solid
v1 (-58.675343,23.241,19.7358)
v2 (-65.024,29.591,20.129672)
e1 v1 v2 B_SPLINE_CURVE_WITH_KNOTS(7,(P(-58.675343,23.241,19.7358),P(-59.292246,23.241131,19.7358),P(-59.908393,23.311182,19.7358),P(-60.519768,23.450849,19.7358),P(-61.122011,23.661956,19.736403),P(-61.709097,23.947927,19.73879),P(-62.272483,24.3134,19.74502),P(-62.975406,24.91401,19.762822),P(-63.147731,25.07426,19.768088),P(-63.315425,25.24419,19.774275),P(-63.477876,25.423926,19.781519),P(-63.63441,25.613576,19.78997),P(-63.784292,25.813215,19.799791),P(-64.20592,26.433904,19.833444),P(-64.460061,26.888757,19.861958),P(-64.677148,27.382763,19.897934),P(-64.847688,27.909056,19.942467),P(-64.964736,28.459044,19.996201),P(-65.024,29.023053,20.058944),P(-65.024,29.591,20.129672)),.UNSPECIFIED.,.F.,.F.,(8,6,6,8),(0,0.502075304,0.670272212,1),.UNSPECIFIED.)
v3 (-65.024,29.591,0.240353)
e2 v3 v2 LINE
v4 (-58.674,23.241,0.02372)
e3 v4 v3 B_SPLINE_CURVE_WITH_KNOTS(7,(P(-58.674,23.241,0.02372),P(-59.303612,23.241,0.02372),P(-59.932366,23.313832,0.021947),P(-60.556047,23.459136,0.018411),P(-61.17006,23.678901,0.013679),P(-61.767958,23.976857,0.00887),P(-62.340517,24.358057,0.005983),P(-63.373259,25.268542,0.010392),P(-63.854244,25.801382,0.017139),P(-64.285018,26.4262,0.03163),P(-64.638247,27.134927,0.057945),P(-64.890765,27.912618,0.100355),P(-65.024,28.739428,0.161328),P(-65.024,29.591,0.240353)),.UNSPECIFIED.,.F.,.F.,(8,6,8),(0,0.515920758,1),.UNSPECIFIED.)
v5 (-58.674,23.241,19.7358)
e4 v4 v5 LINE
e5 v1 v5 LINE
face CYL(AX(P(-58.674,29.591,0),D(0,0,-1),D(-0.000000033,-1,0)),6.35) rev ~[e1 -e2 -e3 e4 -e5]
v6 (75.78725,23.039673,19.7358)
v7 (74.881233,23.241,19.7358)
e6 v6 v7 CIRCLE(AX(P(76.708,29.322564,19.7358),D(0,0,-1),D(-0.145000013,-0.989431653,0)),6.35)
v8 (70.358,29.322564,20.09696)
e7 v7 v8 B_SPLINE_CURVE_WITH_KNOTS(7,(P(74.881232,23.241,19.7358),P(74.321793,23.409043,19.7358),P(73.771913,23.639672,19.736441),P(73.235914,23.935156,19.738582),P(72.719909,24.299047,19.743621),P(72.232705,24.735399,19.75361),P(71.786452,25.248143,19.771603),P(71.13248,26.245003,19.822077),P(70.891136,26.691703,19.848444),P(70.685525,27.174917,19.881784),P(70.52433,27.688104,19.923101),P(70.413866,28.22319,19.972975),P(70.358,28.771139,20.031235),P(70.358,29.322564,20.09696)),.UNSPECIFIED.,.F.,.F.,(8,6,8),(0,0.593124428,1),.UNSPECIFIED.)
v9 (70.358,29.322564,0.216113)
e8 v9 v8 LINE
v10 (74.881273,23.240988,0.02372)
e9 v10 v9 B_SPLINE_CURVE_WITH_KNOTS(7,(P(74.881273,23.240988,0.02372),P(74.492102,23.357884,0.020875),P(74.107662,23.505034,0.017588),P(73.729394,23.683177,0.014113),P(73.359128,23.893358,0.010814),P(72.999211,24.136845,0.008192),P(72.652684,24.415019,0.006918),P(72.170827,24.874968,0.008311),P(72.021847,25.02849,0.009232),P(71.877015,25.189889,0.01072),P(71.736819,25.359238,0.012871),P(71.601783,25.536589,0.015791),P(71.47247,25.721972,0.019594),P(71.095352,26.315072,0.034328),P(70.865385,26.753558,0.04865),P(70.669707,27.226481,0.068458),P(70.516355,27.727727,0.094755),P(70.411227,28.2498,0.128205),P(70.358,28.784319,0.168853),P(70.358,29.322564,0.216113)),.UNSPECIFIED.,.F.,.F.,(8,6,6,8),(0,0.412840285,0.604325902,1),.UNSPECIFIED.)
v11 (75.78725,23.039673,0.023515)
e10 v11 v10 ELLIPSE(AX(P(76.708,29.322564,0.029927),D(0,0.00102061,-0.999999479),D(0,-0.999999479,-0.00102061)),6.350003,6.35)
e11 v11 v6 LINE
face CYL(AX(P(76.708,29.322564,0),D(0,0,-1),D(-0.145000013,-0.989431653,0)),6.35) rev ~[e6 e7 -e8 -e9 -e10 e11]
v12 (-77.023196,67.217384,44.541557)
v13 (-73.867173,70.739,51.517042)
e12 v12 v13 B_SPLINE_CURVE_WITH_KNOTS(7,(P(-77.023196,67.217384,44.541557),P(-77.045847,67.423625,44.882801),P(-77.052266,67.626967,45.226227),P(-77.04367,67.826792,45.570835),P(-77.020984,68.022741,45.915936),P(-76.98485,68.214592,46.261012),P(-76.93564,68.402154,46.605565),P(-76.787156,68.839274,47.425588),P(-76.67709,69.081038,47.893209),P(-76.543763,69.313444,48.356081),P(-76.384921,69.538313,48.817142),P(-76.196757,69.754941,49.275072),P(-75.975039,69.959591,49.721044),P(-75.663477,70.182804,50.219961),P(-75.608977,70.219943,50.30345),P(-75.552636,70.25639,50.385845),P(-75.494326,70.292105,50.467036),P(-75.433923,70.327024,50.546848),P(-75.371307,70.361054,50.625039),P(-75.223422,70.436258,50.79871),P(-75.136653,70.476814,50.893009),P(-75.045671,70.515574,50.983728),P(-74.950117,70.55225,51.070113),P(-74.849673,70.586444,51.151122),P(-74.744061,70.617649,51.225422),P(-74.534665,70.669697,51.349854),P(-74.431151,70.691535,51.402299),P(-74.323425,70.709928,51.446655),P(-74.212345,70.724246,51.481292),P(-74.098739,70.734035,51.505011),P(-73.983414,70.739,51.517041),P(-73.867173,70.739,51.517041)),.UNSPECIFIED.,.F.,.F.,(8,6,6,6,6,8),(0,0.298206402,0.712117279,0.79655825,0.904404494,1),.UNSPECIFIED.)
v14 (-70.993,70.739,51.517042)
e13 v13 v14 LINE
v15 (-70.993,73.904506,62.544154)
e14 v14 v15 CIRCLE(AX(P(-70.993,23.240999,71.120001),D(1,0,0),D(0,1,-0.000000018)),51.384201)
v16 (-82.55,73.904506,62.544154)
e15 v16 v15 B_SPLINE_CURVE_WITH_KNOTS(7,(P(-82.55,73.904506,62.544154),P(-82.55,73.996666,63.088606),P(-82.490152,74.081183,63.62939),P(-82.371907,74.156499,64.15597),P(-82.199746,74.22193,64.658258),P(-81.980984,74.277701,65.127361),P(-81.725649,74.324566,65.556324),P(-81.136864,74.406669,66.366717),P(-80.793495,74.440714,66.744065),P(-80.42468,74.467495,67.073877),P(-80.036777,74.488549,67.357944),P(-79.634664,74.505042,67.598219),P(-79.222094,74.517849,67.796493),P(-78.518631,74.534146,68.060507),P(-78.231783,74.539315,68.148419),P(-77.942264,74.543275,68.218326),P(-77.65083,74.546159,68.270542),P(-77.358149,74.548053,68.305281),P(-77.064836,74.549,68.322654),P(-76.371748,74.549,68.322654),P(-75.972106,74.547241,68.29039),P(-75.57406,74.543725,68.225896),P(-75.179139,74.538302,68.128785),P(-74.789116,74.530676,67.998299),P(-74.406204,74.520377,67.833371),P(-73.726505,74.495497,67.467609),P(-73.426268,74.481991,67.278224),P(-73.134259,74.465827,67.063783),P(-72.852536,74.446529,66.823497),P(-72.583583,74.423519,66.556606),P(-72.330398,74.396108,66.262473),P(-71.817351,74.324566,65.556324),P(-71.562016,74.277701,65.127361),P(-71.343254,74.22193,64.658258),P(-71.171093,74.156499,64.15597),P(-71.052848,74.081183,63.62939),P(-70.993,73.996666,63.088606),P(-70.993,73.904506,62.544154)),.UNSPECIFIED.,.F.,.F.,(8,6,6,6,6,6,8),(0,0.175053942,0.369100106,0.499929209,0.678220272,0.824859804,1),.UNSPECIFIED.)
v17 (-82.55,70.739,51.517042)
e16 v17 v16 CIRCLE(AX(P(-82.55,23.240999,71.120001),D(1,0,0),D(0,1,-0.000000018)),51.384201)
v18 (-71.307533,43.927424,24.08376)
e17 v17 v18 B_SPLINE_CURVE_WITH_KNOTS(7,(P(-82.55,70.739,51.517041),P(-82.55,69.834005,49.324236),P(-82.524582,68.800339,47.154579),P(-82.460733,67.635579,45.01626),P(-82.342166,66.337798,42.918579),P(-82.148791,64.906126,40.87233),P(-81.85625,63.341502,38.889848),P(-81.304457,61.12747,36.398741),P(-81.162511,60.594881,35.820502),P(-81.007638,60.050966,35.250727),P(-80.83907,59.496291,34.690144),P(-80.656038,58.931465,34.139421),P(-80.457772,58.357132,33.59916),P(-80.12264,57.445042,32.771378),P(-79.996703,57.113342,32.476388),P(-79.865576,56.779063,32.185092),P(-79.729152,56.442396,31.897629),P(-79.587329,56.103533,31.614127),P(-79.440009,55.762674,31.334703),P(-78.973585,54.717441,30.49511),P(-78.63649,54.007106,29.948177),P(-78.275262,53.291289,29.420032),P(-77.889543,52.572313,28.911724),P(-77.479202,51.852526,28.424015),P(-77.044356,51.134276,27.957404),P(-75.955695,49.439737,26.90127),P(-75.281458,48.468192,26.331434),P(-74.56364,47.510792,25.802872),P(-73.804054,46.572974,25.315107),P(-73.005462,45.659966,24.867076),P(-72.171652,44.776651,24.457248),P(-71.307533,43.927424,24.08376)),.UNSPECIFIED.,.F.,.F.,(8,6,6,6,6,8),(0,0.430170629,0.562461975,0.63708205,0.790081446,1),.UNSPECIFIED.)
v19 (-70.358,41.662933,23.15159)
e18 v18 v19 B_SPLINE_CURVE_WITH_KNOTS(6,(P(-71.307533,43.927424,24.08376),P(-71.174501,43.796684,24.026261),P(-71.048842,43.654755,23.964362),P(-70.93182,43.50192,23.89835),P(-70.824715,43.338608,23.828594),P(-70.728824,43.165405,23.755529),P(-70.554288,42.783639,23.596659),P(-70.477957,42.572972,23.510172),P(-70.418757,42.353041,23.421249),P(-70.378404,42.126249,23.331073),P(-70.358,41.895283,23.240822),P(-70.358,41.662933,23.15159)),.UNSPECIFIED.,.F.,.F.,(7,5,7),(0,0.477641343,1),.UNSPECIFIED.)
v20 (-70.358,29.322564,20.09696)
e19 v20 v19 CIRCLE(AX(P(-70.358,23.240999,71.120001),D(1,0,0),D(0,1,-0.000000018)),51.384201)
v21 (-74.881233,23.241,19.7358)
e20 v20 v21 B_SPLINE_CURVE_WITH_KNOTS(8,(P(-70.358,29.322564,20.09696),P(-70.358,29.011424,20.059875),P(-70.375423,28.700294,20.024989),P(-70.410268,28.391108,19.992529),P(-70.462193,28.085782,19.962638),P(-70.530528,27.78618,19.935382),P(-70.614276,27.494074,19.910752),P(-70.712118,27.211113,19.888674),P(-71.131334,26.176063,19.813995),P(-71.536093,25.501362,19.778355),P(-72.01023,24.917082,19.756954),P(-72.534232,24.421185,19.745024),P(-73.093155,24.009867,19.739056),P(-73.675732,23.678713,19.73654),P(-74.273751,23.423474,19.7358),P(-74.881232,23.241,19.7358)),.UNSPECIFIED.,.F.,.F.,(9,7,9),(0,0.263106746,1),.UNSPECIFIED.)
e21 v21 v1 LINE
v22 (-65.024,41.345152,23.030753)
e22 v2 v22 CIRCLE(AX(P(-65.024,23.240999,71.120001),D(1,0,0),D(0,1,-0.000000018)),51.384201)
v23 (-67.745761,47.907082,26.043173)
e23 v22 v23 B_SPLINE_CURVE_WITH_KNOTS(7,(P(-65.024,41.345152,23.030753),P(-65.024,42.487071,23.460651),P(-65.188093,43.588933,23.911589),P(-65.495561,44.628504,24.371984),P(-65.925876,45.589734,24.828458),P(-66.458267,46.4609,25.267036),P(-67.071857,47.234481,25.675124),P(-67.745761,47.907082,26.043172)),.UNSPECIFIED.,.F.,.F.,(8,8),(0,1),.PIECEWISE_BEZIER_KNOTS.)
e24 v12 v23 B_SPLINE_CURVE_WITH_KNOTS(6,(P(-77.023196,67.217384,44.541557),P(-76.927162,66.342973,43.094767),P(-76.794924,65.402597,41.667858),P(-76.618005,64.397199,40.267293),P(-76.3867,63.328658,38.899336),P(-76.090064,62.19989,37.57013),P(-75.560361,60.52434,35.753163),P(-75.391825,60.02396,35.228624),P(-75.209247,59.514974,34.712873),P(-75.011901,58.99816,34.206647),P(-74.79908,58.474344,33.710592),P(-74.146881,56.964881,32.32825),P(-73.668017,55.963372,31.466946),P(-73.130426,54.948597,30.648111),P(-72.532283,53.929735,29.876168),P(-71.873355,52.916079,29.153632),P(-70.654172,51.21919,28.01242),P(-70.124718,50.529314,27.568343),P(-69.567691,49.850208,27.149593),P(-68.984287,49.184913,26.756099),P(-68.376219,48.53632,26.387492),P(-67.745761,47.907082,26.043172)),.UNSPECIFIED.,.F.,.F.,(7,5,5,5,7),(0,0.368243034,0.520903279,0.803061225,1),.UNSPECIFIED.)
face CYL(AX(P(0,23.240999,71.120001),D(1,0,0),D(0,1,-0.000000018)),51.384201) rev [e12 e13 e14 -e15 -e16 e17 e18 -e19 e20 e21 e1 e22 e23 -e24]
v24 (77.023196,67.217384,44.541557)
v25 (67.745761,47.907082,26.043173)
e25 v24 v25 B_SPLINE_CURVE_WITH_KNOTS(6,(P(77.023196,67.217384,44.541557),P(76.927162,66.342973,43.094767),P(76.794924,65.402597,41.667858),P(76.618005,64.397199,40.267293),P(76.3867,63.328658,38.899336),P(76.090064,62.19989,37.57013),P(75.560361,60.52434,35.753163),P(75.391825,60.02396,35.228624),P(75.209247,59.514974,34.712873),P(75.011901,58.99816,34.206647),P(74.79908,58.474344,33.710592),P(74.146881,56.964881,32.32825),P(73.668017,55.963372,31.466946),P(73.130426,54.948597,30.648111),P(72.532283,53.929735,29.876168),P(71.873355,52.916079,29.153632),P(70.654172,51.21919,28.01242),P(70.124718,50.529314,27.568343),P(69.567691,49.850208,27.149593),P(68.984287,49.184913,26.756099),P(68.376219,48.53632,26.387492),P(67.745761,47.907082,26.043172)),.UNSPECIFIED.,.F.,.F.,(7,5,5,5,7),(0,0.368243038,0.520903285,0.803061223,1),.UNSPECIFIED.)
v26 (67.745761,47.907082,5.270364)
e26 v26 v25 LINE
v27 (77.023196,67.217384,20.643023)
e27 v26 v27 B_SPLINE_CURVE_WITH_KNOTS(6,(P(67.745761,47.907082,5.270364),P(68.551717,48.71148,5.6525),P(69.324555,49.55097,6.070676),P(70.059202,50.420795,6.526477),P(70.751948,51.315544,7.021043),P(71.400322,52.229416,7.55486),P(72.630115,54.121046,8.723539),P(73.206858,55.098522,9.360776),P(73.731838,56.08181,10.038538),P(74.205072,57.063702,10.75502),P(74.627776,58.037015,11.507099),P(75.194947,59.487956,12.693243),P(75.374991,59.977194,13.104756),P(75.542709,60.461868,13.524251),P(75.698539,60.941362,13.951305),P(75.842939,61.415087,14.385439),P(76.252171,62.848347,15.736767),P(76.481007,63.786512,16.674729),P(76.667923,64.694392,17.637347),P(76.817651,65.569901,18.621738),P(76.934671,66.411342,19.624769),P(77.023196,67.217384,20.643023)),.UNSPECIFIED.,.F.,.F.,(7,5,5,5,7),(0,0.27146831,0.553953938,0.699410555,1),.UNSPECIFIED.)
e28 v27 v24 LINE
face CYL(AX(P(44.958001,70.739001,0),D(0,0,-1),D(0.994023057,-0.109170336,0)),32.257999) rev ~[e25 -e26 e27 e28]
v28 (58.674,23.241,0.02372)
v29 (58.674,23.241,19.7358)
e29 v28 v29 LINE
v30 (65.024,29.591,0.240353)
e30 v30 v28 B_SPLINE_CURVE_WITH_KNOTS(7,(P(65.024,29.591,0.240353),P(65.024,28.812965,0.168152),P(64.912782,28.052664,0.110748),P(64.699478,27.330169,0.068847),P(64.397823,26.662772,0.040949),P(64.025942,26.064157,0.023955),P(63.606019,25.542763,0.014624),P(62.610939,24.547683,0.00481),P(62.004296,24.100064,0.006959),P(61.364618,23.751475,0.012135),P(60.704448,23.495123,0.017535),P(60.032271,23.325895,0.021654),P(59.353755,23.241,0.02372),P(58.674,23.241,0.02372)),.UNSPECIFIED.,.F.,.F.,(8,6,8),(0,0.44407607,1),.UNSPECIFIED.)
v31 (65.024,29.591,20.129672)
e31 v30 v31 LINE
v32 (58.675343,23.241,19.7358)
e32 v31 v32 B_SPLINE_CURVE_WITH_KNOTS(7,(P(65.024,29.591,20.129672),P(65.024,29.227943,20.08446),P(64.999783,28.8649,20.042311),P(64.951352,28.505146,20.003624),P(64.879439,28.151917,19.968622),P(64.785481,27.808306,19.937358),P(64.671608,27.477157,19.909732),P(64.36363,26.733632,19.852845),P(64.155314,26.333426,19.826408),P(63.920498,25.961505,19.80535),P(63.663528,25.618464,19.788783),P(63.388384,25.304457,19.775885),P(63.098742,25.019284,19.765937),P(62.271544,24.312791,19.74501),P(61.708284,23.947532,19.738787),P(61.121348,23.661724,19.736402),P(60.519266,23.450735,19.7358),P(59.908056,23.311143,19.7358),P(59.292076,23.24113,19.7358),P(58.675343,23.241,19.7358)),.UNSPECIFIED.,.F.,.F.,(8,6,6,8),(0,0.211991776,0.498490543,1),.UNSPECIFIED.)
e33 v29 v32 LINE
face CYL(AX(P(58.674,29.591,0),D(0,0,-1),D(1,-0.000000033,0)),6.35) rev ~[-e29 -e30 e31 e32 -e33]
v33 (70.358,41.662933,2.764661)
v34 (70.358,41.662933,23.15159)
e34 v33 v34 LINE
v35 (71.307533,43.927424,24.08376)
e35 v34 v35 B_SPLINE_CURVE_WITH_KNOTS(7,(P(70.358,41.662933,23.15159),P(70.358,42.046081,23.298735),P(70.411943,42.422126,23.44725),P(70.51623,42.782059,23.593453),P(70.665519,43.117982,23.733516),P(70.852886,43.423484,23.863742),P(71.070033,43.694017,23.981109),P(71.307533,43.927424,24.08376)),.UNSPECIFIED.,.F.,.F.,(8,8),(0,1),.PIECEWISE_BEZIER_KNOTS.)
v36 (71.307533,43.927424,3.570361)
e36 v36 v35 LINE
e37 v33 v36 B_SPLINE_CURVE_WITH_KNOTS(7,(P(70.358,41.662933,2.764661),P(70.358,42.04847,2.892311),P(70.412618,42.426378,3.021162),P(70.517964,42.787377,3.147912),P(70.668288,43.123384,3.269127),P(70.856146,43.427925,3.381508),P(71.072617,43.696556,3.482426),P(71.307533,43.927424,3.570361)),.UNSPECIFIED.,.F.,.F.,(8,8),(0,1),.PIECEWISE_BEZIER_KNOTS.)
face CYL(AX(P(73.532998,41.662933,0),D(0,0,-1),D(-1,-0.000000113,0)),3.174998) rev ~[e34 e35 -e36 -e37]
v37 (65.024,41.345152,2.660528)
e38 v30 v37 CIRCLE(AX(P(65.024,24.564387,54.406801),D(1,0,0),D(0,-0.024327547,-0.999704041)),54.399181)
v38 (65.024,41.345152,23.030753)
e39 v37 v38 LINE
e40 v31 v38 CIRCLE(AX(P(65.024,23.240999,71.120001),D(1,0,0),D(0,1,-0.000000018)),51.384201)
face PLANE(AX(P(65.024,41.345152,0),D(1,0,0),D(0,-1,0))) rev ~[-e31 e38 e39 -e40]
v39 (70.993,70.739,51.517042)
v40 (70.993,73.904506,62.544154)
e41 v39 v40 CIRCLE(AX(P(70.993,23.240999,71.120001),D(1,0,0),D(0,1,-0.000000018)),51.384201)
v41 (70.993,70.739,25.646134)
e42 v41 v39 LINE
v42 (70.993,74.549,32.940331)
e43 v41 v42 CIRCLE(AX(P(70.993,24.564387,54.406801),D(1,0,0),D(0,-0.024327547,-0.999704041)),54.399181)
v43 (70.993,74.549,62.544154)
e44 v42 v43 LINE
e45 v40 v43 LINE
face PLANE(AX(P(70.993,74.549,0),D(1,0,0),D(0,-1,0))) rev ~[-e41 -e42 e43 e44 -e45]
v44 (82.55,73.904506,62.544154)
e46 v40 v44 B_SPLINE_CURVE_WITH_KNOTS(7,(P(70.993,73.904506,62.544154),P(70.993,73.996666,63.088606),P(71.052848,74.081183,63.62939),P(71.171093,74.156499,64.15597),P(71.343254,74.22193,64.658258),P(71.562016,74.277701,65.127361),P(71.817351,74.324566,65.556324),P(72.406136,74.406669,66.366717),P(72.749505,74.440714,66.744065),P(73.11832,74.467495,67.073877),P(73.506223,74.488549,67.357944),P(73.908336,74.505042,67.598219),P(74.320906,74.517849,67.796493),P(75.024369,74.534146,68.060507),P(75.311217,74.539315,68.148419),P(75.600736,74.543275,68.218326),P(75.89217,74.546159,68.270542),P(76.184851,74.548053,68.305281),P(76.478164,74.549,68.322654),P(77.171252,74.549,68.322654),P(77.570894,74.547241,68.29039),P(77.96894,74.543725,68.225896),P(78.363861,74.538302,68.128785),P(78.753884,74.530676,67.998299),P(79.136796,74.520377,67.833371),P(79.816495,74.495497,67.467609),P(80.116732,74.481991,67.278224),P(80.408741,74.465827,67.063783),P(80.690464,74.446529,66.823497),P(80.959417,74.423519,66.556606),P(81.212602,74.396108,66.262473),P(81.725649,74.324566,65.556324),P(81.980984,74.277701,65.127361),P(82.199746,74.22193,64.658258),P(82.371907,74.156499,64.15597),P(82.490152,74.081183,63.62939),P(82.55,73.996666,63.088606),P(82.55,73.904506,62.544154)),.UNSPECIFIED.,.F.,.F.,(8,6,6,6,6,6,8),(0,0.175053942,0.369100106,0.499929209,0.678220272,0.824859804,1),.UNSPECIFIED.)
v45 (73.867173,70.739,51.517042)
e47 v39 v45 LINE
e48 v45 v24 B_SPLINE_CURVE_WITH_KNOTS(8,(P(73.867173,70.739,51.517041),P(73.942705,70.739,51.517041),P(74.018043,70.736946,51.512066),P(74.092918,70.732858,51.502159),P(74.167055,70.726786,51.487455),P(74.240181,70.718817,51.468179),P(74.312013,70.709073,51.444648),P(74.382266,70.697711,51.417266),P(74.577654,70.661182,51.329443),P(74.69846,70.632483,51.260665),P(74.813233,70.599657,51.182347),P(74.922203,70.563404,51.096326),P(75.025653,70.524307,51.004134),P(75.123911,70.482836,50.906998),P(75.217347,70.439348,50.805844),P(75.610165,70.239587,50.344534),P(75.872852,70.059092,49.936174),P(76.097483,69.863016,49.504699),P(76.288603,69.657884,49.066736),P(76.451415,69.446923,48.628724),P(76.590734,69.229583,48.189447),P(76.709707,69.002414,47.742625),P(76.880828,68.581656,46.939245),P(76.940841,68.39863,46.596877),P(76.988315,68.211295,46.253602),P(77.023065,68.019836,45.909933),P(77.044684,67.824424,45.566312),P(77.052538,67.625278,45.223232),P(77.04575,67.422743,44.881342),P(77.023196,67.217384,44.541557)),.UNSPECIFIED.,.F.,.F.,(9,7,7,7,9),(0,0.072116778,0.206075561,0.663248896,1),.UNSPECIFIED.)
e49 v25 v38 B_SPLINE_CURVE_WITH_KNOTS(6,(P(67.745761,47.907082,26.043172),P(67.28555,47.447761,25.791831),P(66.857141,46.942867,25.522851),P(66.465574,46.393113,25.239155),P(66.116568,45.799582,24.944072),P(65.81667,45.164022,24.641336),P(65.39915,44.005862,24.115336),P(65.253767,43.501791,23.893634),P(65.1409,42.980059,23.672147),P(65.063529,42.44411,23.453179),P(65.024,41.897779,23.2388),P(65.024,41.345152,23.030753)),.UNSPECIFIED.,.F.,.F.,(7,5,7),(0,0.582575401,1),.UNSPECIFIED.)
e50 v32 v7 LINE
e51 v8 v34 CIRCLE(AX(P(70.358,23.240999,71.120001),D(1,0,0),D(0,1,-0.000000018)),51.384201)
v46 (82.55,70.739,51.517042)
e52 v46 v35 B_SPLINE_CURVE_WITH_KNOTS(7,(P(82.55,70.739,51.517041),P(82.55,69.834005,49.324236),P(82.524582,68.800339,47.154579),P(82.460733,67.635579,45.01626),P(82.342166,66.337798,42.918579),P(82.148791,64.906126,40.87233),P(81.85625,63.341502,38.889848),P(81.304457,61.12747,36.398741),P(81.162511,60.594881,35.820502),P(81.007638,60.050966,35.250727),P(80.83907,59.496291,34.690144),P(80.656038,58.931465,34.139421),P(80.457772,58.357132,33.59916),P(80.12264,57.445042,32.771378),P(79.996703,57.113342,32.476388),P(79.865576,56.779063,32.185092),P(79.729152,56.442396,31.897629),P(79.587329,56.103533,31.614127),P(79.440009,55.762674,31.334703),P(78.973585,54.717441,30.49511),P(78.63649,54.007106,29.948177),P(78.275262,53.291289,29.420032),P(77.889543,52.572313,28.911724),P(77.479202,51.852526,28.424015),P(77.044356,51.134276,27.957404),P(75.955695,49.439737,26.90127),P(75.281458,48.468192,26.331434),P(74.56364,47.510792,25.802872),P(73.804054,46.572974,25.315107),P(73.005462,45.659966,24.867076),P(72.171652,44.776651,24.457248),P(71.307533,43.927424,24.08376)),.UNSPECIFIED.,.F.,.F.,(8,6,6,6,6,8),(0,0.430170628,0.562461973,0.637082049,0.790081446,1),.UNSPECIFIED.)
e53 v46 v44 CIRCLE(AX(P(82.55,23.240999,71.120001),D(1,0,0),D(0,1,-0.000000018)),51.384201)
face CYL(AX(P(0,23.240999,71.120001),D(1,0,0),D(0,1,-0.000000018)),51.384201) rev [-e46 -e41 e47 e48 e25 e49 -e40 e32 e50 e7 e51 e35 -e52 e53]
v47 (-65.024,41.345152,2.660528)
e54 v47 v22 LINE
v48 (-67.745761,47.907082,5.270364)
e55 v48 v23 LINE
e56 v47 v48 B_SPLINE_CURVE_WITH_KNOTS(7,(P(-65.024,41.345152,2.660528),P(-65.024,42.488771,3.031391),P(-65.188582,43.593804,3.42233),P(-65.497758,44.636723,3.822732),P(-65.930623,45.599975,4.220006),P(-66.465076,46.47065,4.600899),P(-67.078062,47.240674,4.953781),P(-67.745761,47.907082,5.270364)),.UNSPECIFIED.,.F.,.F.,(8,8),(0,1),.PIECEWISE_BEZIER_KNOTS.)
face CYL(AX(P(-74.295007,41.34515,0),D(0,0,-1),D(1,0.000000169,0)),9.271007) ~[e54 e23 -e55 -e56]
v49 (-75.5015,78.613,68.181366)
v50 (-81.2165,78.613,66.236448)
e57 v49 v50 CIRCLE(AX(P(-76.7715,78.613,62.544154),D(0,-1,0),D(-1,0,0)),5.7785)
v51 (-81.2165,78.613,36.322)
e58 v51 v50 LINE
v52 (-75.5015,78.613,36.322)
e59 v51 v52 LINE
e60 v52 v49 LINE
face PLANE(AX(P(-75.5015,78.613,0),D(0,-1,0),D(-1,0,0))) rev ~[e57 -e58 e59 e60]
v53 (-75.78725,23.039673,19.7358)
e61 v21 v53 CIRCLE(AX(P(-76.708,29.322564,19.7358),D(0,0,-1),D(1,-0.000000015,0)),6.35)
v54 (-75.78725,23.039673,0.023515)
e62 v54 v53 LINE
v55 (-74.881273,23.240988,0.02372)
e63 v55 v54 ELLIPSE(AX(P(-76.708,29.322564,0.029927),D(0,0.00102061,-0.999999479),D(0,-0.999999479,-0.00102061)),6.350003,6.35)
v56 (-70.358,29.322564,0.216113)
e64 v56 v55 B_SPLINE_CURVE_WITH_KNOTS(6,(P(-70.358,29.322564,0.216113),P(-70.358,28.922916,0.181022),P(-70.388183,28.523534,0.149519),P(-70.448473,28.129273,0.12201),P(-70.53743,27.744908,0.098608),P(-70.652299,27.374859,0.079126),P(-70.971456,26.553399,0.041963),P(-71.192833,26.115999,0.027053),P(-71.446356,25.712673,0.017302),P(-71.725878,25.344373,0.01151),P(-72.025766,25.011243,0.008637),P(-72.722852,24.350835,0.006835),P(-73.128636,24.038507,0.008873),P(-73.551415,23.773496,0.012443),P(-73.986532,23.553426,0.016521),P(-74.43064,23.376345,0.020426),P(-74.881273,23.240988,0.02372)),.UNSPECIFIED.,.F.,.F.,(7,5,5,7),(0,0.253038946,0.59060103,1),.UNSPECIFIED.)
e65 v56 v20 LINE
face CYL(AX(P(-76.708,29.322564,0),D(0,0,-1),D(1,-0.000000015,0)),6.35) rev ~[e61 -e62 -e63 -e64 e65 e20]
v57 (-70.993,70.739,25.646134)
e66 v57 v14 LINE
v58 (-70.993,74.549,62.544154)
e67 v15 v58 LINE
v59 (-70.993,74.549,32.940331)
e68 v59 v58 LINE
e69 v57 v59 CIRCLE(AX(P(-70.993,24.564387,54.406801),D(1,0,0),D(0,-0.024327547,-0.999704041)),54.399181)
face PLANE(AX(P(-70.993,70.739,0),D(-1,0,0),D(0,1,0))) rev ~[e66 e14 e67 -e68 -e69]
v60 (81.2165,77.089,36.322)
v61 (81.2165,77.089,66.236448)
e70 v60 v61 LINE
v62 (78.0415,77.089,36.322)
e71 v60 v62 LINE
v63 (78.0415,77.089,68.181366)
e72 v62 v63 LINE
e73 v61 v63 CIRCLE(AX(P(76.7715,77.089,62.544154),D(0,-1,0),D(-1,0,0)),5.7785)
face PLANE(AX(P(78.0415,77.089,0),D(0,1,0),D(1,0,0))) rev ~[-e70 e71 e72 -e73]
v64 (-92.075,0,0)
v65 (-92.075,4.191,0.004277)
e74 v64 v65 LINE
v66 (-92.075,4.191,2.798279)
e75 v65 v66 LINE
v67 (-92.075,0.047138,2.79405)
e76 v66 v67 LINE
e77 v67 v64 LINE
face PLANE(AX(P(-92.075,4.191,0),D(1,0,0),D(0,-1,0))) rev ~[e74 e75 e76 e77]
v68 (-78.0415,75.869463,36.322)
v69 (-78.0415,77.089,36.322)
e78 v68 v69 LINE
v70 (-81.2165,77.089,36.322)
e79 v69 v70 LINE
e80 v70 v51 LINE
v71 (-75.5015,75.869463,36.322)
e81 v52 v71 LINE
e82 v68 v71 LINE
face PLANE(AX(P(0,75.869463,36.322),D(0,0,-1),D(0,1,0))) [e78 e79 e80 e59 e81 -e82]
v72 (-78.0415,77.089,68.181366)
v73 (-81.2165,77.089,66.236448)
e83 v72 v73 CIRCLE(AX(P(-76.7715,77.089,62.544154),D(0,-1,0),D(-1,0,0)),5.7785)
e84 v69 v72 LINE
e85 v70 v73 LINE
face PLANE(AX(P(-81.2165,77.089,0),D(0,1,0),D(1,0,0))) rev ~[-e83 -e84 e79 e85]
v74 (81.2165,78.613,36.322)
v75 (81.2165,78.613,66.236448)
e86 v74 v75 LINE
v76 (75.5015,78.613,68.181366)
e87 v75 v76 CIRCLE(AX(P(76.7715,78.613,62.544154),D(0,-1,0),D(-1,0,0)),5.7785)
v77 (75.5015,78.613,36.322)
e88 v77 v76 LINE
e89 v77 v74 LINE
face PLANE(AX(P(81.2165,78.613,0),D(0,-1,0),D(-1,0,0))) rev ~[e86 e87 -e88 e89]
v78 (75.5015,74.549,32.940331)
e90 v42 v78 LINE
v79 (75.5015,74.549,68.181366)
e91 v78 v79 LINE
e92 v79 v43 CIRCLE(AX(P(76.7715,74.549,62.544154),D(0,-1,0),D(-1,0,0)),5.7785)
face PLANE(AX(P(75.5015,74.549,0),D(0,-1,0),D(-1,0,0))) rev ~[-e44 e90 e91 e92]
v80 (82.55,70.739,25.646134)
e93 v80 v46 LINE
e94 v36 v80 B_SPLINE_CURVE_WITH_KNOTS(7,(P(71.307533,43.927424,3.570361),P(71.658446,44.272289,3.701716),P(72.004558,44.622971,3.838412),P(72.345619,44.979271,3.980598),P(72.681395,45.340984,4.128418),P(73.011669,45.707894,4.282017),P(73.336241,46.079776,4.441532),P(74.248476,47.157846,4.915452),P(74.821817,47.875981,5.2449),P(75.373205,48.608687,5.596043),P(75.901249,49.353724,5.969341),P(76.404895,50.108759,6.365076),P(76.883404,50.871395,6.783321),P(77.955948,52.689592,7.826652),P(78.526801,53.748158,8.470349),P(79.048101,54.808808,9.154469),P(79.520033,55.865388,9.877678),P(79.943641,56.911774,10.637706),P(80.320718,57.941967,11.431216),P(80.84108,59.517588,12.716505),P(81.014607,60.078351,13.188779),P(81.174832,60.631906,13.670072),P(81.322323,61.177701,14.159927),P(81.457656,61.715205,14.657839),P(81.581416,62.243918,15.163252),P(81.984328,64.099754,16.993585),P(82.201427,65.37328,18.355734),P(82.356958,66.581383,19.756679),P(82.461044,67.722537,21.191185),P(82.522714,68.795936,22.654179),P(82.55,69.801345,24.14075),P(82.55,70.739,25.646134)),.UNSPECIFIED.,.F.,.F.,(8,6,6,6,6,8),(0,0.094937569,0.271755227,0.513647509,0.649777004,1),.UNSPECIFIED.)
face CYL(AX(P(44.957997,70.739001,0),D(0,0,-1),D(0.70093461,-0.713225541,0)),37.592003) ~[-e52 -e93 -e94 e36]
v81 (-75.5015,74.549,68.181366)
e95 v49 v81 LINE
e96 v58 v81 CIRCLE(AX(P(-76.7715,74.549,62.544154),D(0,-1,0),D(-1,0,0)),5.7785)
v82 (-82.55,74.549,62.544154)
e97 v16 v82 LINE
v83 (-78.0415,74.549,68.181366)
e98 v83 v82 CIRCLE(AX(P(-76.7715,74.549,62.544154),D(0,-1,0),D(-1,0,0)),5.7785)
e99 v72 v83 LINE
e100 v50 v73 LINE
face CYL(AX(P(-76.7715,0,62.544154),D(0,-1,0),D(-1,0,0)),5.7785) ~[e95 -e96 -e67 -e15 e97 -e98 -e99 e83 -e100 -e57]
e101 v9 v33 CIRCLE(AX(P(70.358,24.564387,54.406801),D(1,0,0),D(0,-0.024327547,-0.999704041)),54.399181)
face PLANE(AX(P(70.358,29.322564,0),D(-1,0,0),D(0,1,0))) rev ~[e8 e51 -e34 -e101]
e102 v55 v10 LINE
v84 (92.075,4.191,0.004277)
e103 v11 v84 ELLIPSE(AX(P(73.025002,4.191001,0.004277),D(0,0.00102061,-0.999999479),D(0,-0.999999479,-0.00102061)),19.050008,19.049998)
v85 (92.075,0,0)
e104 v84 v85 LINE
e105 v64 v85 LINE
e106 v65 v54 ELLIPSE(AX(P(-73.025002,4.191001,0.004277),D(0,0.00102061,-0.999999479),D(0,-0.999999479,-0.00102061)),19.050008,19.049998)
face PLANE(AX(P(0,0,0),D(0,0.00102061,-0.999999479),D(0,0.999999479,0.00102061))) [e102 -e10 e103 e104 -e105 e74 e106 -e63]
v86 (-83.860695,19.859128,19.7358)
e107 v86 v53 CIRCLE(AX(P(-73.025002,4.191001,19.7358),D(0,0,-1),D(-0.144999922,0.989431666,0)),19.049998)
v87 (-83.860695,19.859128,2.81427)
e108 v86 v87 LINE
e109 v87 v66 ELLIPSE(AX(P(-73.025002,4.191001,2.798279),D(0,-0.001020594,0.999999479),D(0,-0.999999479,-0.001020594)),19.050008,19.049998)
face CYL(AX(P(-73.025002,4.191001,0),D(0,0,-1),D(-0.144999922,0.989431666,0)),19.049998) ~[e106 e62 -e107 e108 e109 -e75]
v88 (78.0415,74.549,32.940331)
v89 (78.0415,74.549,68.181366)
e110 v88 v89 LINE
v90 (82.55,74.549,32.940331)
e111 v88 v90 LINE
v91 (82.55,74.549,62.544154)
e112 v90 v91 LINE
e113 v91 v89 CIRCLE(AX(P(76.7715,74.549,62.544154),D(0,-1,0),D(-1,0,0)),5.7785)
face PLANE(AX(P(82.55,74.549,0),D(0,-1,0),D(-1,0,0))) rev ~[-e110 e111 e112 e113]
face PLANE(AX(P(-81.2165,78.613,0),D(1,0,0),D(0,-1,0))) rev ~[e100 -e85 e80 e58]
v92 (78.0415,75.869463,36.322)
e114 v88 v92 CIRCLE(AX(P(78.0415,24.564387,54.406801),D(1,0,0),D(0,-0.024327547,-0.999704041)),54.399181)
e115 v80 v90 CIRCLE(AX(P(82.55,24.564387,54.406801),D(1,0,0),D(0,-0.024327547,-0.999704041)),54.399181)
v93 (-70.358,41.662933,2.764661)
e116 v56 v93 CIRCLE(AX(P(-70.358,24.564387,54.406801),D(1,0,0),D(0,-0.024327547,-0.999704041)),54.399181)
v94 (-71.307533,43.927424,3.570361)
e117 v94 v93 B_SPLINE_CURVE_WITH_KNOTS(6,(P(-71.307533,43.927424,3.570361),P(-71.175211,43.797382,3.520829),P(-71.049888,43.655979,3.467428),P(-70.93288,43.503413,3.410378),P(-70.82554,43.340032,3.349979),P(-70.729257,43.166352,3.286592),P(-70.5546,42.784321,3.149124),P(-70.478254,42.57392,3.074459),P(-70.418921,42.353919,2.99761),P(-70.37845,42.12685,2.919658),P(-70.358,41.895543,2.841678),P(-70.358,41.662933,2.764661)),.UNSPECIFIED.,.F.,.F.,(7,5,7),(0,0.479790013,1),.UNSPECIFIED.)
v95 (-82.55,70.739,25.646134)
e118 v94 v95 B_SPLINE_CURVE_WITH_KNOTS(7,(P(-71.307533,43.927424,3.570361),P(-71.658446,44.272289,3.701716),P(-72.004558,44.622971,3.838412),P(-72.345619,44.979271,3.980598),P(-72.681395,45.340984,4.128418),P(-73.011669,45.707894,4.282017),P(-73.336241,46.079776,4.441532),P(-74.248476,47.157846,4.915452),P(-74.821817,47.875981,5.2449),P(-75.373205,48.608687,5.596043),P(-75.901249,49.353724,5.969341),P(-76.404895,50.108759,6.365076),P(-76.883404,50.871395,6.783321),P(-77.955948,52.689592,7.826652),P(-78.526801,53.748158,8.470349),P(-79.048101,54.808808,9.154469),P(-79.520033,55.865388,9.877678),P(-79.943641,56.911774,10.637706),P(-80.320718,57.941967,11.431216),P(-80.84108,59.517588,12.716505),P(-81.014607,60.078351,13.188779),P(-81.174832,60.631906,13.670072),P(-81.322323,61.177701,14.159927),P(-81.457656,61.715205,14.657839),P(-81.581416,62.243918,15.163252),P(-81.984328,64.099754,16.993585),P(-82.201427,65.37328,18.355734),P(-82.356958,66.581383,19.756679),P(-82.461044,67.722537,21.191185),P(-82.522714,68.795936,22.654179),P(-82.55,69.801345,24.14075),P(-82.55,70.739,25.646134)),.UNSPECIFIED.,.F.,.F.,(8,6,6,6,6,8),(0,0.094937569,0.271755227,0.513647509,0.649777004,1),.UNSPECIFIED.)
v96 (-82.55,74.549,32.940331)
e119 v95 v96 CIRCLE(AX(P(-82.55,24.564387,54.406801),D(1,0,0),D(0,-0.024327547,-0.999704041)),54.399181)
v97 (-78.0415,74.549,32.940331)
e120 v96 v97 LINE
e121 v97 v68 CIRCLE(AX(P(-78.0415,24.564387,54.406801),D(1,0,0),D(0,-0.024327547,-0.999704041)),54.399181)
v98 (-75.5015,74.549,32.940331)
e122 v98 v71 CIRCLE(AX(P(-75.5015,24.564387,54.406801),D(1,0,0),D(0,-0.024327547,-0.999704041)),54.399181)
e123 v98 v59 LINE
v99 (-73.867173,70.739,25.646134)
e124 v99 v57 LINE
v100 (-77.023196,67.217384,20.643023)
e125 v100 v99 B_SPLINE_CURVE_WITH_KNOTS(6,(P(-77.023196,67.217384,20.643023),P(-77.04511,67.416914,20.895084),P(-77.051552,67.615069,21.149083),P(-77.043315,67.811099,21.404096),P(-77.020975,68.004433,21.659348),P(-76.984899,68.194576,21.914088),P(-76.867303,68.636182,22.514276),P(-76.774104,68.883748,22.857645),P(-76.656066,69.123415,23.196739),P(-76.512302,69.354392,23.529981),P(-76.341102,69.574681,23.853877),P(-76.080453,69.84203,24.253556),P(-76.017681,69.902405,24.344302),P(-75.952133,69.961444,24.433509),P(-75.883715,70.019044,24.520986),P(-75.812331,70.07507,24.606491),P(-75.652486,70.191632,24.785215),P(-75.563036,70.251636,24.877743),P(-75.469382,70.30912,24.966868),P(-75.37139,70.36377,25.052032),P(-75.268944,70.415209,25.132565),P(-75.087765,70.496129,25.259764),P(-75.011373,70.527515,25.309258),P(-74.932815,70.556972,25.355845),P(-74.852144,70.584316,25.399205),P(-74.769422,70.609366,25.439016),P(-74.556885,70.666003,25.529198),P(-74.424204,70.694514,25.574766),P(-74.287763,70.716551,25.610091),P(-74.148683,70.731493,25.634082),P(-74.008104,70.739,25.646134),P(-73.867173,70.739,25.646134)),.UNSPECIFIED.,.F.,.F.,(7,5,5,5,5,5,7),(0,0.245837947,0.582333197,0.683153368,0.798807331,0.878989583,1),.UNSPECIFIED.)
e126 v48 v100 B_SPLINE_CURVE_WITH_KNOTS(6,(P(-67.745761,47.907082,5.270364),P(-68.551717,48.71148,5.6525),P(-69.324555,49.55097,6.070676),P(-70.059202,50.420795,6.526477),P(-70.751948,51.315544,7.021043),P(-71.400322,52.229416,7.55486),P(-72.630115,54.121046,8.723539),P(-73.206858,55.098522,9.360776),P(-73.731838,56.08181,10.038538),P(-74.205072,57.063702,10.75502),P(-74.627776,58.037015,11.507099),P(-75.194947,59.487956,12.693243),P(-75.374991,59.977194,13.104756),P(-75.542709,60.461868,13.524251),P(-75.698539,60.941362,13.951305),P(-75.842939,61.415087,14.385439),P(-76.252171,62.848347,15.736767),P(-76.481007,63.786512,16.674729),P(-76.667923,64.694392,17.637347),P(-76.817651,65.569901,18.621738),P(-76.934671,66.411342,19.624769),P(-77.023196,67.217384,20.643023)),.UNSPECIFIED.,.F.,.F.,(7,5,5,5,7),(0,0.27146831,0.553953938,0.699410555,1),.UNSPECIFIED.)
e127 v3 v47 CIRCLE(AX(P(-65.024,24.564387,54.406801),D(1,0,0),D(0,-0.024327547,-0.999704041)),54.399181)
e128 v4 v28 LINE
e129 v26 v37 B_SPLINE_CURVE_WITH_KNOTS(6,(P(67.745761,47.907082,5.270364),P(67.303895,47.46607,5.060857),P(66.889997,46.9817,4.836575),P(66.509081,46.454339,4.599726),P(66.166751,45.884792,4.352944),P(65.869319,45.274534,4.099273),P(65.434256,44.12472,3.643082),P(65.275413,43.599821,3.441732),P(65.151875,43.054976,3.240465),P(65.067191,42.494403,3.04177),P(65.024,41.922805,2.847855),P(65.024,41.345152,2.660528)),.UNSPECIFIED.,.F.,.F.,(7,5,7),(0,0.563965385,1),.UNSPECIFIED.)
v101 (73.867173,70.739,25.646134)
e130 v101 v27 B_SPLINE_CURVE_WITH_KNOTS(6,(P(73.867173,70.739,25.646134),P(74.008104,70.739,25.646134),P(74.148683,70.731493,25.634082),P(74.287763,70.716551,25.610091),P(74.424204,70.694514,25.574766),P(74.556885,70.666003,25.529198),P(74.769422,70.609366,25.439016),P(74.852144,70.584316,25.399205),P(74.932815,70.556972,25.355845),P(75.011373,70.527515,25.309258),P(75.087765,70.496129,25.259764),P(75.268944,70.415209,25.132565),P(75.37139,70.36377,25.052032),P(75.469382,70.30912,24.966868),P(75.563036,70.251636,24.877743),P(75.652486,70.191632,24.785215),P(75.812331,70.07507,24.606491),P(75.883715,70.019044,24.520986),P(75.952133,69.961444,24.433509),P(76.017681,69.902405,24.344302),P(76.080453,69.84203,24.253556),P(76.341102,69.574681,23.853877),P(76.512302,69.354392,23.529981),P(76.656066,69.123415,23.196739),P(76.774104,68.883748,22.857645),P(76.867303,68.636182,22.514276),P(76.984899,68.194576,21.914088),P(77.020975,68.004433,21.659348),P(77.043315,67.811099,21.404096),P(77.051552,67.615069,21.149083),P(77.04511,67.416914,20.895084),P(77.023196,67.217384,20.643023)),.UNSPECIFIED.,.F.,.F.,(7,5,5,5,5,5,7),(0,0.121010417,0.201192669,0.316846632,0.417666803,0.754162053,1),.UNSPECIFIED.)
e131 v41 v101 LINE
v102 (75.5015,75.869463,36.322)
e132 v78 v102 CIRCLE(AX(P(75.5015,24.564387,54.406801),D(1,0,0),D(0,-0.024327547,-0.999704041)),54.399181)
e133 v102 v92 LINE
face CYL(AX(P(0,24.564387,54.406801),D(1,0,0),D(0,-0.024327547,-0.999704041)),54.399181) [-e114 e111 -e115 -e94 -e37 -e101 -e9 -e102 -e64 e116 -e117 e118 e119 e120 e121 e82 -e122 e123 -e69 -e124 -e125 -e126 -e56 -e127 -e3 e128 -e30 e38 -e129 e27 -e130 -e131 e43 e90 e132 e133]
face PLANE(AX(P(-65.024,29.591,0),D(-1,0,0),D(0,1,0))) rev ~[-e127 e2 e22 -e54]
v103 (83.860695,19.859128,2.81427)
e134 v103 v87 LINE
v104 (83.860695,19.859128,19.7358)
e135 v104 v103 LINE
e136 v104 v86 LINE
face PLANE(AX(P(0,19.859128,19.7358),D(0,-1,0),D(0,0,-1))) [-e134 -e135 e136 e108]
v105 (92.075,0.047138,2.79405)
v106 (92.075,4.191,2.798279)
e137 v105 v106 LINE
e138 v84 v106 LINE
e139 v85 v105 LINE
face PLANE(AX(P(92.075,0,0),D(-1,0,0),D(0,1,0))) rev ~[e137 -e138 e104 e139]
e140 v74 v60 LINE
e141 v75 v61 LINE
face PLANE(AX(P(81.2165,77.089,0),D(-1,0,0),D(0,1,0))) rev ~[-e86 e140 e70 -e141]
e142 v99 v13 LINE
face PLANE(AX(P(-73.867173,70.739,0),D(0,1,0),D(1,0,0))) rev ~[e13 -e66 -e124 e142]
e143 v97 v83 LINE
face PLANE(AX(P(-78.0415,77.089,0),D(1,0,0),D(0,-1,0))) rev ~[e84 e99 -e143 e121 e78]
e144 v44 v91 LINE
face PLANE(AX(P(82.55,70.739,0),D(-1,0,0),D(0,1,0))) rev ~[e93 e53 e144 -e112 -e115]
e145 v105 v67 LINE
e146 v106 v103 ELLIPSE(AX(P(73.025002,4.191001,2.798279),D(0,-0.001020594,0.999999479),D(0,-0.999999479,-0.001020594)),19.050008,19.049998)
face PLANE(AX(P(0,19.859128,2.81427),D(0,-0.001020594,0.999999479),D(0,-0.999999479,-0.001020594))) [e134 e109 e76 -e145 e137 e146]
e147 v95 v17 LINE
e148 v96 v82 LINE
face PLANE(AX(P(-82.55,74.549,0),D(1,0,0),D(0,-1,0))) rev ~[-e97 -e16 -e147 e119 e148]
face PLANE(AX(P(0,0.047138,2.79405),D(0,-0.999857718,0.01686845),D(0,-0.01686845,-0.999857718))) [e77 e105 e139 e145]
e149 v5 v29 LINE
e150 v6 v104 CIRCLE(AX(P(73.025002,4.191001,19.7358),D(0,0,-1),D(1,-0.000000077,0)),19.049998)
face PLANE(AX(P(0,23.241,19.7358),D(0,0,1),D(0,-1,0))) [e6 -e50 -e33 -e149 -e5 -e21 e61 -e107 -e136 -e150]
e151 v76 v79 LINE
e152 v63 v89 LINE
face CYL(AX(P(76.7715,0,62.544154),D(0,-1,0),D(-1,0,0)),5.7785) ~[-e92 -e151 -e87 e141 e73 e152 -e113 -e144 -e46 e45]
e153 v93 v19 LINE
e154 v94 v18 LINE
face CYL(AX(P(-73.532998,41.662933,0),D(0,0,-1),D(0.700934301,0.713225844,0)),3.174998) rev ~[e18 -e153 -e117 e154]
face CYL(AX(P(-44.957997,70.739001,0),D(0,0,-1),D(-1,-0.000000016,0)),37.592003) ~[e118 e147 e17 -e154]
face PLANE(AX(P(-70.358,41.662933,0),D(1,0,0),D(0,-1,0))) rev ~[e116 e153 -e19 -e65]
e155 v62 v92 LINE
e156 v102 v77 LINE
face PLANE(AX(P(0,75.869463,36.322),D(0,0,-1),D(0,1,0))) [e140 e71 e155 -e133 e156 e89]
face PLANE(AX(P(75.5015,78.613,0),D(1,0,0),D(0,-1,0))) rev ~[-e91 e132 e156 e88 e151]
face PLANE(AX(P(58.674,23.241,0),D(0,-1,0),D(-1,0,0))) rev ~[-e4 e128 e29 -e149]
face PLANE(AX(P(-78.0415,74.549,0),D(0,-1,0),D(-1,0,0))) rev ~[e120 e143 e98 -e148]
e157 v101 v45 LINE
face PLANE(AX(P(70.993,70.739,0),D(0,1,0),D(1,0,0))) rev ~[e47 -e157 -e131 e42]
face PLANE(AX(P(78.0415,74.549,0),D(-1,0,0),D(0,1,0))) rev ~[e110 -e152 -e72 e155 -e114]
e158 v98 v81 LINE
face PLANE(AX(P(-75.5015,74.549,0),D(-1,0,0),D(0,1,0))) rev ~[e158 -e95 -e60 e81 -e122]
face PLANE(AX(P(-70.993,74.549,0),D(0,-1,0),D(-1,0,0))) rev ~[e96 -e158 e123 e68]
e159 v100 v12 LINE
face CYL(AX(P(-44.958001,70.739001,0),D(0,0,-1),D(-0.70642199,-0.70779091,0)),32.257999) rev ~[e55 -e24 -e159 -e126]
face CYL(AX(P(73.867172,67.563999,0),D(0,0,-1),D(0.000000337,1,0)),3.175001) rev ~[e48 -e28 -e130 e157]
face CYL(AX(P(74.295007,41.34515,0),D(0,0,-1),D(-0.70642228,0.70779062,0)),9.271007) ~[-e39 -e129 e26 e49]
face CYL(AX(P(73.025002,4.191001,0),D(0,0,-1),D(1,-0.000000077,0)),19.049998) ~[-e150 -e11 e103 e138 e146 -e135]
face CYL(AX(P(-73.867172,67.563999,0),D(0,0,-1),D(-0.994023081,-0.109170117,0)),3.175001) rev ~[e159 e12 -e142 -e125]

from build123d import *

# Parameters (mm, degrees)
F1_DEPTH = 71.12
F3_DEPTH = 101.6
F5_DEPTH = 78.614


with BuildPart() as f1:
    # F0 (on Top) → F1 (new body)
    with BuildSketch(Plane.XY):
        with BuildLine():
            Line((-92.075, 0), (0, 0))
            Line((0, 0), (92.075, 0))
            Line((92.075, 0), (92.075, 4.191))
            ThreePointArc((92.075, 4.191), (87.438941, 16.646554), (75.78725, 23.039673))
            ThreePointArc((75.78725, 23.039673), (71.903353, 25.170713), (70.358, 29.322564))
            Line((70.358, 29.322564), (70.358, 41.662933))
            ThreePointArc((70.358, 41.662933), (70.60499, 42.890688), (71.307533, 43.927424))
            ThreePointArc((71.307533, 43.927424), (79.625637, 56.202377), (82.55, 70.739))
            Line((82.55, 70.739), (82.55, 74.549))
            Line((82.55, 74.549), (78.0415, 74.549))
            Line((78.0415, 74.549), (78.0415, 77.089))
            Line((78.0415, 77.089), (81.2165, 77.089))
            Line((81.2165, 77.089), (81.2165, 78.613))
            Line((81.2165, 78.613), (78.0415, 78.613))
            Line((78.0415, 78.613), (75.5015, 78.613))
            Line((75.5015, 78.613), (75.5015, 74.549))
            Line((75.5015, 74.549), (70.993, 74.549))
            Line((70.993, 74.549), (70.993, 70.739))
            Line((70.993, 70.739), (73.867173, 70.739))
            ThreePointArc((73.867173, 70.739), (76.23161, 69.682976), (77.023196, 67.217384))
            ThreePointArc((77.023196, 67.217384), (74.034342, 56.769573), (67.745761, 47.907082))
            ThreePointArc((67.745761, 47.907082), (65.731431, 44.897155), (65.024, 41.345152))
            Line((65.024, 41.345152), (65.024, 29.591))
            ThreePointArc((65.024, 29.591), (63.164128, 25.100872), (58.674, 23.241))
            Line((58.674, 23.241), (0, 23.241))
            Line((0, 23.241), (-58.674, 23.241))
            ThreePointArc((-58.674, 23.241), (-63.164128, 25.100872), (-65.024, 29.591))
            Line((-65.024, 29.591), (-65.024, 41.345152))
            ThreePointArc((-65.024, 41.345152), (-65.731431, 44.897155), (-67.745761, 47.907082))
            ThreePointArc((-67.745761, 47.907082), (-74.034342, 56.769573), (-77.023196, 67.217384))
            ThreePointArc((-77.023196, 67.217384), (-76.23161, 69.682976), (-73.867173, 70.739))
            Line((-73.867173, 70.739), (-70.993, 70.739))
            Line((-70.993, 70.739), (-70.993, 74.549))
            Line((-70.993, 74.549), (-75.5015, 74.549))
            Line((-75.5015, 74.549), (-75.5015, 78.613))
            Line((-75.5015, 78.613), (-81.2165, 78.613))
            Line((-81.2165, 78.613), (-81.2165, 77.089))
            Line((-81.2165, 77.089), (-78.0415, 77.089))
            Line((-78.0415, 77.089), (-78.0415, 74.549))
            Line((-78.0415, 74.549), (-82.55, 74.549))
            Line((-82.55, 74.549), (-82.55, 70.739))
            ThreePointArc((-82.55, 70.739), (-79.625637, 56.202377), (-71.307533, 43.927424))
            ThreePointArc((-71.307533, 43.927424), (-70.60499, 42.890688), (-70.358, 41.662933))
            Line((-70.358, 41.662933), (-70.358, 29.322564))
            ThreePointArc((-70.358, 29.322564), (-71.903353, 25.170713), (-75.78725, 23.039673))
            ThreePointArc((-75.78725, 23.039673), (-87.438941, 16.646554), (-92.075, 4.191))
            Line((-92.075, 4.191), (-92.075, 0))
        make_face()
    extrude(amount=F1_DEPTH)

    # F2 (on Right) → F3 (intersect, symmetric)
    with BuildSketch(Plane.YZ):
        with BuildLine():
            Line((0.047138, 2.79405), (0, 0))
            Line((0, 0), (23.240988, 0.02372))
            ThreePointArc((23.240988, 0.02372), (55.450197, 9.625805), (75.869463, 36.322))
            Line((75.869463, 36.322), (78.613, 36.322))
            Line((78.613, 36.322), (78.613, 71.12407))
            Line((78.613, 71.12407), (74.6252, 71.12))
            ThreePointArc((74.6252, 71.12), (59.575116, 34.785884), (23.241, 19.7358))
            Line((23.241, 19.7358), (19.859128, 19.7358))
            Line((19.859128, 19.7358), (19.859128, 2.81427))
            Line((19.859128, 2.81427), (0.047138, 2.79405))
        make_face()
    extrude(amount=F3_DEPTH, both=True, mode=Mode.INTERSECT)

    # F4 (on Front) → F5 (cut, through all)
    with BuildSketch(Plane.XZ):
        with BuildLine():
            Line((-85.773818, 62.544154), (-82.55, 62.544154))
            ThreePointArc((-82.55, 62.544154), (-76.7715, 68.322654), (-70.993, 62.544154))
            Line((-70.993, 62.544154), (-67.021526, 62.544154))
            Line((-67.021526, 62.544154), (-67.021526, 73.423296))
            Line((-67.021526, 73.423296), (-85.773818, 73.423296))
            Line((-85.773818, 73.423296), (-85.773818, 62.544154))
        make_face()
        with BuildLine():
            ThreePointArc((70.993, 62.544154), (76.7715, 68.322654), (82.55, 62.544154))
            Line((82.55, 62.544154), (85.773818, 62.544154))
            Line((85.773818, 62.544154), (85.773818, 73.423296))
            Line((85.773818, 73.423296), (67.021526, 73.423296))
            Line((67.021526, 73.423296), (67.021526, 62.544154))
            Line((67.021526, 62.544154), (70.993, 62.544154))
        make_face()
    extrude(amount=-F5_DEPTH, mode=Mode.SUBTRACT)


solid = f1.part
